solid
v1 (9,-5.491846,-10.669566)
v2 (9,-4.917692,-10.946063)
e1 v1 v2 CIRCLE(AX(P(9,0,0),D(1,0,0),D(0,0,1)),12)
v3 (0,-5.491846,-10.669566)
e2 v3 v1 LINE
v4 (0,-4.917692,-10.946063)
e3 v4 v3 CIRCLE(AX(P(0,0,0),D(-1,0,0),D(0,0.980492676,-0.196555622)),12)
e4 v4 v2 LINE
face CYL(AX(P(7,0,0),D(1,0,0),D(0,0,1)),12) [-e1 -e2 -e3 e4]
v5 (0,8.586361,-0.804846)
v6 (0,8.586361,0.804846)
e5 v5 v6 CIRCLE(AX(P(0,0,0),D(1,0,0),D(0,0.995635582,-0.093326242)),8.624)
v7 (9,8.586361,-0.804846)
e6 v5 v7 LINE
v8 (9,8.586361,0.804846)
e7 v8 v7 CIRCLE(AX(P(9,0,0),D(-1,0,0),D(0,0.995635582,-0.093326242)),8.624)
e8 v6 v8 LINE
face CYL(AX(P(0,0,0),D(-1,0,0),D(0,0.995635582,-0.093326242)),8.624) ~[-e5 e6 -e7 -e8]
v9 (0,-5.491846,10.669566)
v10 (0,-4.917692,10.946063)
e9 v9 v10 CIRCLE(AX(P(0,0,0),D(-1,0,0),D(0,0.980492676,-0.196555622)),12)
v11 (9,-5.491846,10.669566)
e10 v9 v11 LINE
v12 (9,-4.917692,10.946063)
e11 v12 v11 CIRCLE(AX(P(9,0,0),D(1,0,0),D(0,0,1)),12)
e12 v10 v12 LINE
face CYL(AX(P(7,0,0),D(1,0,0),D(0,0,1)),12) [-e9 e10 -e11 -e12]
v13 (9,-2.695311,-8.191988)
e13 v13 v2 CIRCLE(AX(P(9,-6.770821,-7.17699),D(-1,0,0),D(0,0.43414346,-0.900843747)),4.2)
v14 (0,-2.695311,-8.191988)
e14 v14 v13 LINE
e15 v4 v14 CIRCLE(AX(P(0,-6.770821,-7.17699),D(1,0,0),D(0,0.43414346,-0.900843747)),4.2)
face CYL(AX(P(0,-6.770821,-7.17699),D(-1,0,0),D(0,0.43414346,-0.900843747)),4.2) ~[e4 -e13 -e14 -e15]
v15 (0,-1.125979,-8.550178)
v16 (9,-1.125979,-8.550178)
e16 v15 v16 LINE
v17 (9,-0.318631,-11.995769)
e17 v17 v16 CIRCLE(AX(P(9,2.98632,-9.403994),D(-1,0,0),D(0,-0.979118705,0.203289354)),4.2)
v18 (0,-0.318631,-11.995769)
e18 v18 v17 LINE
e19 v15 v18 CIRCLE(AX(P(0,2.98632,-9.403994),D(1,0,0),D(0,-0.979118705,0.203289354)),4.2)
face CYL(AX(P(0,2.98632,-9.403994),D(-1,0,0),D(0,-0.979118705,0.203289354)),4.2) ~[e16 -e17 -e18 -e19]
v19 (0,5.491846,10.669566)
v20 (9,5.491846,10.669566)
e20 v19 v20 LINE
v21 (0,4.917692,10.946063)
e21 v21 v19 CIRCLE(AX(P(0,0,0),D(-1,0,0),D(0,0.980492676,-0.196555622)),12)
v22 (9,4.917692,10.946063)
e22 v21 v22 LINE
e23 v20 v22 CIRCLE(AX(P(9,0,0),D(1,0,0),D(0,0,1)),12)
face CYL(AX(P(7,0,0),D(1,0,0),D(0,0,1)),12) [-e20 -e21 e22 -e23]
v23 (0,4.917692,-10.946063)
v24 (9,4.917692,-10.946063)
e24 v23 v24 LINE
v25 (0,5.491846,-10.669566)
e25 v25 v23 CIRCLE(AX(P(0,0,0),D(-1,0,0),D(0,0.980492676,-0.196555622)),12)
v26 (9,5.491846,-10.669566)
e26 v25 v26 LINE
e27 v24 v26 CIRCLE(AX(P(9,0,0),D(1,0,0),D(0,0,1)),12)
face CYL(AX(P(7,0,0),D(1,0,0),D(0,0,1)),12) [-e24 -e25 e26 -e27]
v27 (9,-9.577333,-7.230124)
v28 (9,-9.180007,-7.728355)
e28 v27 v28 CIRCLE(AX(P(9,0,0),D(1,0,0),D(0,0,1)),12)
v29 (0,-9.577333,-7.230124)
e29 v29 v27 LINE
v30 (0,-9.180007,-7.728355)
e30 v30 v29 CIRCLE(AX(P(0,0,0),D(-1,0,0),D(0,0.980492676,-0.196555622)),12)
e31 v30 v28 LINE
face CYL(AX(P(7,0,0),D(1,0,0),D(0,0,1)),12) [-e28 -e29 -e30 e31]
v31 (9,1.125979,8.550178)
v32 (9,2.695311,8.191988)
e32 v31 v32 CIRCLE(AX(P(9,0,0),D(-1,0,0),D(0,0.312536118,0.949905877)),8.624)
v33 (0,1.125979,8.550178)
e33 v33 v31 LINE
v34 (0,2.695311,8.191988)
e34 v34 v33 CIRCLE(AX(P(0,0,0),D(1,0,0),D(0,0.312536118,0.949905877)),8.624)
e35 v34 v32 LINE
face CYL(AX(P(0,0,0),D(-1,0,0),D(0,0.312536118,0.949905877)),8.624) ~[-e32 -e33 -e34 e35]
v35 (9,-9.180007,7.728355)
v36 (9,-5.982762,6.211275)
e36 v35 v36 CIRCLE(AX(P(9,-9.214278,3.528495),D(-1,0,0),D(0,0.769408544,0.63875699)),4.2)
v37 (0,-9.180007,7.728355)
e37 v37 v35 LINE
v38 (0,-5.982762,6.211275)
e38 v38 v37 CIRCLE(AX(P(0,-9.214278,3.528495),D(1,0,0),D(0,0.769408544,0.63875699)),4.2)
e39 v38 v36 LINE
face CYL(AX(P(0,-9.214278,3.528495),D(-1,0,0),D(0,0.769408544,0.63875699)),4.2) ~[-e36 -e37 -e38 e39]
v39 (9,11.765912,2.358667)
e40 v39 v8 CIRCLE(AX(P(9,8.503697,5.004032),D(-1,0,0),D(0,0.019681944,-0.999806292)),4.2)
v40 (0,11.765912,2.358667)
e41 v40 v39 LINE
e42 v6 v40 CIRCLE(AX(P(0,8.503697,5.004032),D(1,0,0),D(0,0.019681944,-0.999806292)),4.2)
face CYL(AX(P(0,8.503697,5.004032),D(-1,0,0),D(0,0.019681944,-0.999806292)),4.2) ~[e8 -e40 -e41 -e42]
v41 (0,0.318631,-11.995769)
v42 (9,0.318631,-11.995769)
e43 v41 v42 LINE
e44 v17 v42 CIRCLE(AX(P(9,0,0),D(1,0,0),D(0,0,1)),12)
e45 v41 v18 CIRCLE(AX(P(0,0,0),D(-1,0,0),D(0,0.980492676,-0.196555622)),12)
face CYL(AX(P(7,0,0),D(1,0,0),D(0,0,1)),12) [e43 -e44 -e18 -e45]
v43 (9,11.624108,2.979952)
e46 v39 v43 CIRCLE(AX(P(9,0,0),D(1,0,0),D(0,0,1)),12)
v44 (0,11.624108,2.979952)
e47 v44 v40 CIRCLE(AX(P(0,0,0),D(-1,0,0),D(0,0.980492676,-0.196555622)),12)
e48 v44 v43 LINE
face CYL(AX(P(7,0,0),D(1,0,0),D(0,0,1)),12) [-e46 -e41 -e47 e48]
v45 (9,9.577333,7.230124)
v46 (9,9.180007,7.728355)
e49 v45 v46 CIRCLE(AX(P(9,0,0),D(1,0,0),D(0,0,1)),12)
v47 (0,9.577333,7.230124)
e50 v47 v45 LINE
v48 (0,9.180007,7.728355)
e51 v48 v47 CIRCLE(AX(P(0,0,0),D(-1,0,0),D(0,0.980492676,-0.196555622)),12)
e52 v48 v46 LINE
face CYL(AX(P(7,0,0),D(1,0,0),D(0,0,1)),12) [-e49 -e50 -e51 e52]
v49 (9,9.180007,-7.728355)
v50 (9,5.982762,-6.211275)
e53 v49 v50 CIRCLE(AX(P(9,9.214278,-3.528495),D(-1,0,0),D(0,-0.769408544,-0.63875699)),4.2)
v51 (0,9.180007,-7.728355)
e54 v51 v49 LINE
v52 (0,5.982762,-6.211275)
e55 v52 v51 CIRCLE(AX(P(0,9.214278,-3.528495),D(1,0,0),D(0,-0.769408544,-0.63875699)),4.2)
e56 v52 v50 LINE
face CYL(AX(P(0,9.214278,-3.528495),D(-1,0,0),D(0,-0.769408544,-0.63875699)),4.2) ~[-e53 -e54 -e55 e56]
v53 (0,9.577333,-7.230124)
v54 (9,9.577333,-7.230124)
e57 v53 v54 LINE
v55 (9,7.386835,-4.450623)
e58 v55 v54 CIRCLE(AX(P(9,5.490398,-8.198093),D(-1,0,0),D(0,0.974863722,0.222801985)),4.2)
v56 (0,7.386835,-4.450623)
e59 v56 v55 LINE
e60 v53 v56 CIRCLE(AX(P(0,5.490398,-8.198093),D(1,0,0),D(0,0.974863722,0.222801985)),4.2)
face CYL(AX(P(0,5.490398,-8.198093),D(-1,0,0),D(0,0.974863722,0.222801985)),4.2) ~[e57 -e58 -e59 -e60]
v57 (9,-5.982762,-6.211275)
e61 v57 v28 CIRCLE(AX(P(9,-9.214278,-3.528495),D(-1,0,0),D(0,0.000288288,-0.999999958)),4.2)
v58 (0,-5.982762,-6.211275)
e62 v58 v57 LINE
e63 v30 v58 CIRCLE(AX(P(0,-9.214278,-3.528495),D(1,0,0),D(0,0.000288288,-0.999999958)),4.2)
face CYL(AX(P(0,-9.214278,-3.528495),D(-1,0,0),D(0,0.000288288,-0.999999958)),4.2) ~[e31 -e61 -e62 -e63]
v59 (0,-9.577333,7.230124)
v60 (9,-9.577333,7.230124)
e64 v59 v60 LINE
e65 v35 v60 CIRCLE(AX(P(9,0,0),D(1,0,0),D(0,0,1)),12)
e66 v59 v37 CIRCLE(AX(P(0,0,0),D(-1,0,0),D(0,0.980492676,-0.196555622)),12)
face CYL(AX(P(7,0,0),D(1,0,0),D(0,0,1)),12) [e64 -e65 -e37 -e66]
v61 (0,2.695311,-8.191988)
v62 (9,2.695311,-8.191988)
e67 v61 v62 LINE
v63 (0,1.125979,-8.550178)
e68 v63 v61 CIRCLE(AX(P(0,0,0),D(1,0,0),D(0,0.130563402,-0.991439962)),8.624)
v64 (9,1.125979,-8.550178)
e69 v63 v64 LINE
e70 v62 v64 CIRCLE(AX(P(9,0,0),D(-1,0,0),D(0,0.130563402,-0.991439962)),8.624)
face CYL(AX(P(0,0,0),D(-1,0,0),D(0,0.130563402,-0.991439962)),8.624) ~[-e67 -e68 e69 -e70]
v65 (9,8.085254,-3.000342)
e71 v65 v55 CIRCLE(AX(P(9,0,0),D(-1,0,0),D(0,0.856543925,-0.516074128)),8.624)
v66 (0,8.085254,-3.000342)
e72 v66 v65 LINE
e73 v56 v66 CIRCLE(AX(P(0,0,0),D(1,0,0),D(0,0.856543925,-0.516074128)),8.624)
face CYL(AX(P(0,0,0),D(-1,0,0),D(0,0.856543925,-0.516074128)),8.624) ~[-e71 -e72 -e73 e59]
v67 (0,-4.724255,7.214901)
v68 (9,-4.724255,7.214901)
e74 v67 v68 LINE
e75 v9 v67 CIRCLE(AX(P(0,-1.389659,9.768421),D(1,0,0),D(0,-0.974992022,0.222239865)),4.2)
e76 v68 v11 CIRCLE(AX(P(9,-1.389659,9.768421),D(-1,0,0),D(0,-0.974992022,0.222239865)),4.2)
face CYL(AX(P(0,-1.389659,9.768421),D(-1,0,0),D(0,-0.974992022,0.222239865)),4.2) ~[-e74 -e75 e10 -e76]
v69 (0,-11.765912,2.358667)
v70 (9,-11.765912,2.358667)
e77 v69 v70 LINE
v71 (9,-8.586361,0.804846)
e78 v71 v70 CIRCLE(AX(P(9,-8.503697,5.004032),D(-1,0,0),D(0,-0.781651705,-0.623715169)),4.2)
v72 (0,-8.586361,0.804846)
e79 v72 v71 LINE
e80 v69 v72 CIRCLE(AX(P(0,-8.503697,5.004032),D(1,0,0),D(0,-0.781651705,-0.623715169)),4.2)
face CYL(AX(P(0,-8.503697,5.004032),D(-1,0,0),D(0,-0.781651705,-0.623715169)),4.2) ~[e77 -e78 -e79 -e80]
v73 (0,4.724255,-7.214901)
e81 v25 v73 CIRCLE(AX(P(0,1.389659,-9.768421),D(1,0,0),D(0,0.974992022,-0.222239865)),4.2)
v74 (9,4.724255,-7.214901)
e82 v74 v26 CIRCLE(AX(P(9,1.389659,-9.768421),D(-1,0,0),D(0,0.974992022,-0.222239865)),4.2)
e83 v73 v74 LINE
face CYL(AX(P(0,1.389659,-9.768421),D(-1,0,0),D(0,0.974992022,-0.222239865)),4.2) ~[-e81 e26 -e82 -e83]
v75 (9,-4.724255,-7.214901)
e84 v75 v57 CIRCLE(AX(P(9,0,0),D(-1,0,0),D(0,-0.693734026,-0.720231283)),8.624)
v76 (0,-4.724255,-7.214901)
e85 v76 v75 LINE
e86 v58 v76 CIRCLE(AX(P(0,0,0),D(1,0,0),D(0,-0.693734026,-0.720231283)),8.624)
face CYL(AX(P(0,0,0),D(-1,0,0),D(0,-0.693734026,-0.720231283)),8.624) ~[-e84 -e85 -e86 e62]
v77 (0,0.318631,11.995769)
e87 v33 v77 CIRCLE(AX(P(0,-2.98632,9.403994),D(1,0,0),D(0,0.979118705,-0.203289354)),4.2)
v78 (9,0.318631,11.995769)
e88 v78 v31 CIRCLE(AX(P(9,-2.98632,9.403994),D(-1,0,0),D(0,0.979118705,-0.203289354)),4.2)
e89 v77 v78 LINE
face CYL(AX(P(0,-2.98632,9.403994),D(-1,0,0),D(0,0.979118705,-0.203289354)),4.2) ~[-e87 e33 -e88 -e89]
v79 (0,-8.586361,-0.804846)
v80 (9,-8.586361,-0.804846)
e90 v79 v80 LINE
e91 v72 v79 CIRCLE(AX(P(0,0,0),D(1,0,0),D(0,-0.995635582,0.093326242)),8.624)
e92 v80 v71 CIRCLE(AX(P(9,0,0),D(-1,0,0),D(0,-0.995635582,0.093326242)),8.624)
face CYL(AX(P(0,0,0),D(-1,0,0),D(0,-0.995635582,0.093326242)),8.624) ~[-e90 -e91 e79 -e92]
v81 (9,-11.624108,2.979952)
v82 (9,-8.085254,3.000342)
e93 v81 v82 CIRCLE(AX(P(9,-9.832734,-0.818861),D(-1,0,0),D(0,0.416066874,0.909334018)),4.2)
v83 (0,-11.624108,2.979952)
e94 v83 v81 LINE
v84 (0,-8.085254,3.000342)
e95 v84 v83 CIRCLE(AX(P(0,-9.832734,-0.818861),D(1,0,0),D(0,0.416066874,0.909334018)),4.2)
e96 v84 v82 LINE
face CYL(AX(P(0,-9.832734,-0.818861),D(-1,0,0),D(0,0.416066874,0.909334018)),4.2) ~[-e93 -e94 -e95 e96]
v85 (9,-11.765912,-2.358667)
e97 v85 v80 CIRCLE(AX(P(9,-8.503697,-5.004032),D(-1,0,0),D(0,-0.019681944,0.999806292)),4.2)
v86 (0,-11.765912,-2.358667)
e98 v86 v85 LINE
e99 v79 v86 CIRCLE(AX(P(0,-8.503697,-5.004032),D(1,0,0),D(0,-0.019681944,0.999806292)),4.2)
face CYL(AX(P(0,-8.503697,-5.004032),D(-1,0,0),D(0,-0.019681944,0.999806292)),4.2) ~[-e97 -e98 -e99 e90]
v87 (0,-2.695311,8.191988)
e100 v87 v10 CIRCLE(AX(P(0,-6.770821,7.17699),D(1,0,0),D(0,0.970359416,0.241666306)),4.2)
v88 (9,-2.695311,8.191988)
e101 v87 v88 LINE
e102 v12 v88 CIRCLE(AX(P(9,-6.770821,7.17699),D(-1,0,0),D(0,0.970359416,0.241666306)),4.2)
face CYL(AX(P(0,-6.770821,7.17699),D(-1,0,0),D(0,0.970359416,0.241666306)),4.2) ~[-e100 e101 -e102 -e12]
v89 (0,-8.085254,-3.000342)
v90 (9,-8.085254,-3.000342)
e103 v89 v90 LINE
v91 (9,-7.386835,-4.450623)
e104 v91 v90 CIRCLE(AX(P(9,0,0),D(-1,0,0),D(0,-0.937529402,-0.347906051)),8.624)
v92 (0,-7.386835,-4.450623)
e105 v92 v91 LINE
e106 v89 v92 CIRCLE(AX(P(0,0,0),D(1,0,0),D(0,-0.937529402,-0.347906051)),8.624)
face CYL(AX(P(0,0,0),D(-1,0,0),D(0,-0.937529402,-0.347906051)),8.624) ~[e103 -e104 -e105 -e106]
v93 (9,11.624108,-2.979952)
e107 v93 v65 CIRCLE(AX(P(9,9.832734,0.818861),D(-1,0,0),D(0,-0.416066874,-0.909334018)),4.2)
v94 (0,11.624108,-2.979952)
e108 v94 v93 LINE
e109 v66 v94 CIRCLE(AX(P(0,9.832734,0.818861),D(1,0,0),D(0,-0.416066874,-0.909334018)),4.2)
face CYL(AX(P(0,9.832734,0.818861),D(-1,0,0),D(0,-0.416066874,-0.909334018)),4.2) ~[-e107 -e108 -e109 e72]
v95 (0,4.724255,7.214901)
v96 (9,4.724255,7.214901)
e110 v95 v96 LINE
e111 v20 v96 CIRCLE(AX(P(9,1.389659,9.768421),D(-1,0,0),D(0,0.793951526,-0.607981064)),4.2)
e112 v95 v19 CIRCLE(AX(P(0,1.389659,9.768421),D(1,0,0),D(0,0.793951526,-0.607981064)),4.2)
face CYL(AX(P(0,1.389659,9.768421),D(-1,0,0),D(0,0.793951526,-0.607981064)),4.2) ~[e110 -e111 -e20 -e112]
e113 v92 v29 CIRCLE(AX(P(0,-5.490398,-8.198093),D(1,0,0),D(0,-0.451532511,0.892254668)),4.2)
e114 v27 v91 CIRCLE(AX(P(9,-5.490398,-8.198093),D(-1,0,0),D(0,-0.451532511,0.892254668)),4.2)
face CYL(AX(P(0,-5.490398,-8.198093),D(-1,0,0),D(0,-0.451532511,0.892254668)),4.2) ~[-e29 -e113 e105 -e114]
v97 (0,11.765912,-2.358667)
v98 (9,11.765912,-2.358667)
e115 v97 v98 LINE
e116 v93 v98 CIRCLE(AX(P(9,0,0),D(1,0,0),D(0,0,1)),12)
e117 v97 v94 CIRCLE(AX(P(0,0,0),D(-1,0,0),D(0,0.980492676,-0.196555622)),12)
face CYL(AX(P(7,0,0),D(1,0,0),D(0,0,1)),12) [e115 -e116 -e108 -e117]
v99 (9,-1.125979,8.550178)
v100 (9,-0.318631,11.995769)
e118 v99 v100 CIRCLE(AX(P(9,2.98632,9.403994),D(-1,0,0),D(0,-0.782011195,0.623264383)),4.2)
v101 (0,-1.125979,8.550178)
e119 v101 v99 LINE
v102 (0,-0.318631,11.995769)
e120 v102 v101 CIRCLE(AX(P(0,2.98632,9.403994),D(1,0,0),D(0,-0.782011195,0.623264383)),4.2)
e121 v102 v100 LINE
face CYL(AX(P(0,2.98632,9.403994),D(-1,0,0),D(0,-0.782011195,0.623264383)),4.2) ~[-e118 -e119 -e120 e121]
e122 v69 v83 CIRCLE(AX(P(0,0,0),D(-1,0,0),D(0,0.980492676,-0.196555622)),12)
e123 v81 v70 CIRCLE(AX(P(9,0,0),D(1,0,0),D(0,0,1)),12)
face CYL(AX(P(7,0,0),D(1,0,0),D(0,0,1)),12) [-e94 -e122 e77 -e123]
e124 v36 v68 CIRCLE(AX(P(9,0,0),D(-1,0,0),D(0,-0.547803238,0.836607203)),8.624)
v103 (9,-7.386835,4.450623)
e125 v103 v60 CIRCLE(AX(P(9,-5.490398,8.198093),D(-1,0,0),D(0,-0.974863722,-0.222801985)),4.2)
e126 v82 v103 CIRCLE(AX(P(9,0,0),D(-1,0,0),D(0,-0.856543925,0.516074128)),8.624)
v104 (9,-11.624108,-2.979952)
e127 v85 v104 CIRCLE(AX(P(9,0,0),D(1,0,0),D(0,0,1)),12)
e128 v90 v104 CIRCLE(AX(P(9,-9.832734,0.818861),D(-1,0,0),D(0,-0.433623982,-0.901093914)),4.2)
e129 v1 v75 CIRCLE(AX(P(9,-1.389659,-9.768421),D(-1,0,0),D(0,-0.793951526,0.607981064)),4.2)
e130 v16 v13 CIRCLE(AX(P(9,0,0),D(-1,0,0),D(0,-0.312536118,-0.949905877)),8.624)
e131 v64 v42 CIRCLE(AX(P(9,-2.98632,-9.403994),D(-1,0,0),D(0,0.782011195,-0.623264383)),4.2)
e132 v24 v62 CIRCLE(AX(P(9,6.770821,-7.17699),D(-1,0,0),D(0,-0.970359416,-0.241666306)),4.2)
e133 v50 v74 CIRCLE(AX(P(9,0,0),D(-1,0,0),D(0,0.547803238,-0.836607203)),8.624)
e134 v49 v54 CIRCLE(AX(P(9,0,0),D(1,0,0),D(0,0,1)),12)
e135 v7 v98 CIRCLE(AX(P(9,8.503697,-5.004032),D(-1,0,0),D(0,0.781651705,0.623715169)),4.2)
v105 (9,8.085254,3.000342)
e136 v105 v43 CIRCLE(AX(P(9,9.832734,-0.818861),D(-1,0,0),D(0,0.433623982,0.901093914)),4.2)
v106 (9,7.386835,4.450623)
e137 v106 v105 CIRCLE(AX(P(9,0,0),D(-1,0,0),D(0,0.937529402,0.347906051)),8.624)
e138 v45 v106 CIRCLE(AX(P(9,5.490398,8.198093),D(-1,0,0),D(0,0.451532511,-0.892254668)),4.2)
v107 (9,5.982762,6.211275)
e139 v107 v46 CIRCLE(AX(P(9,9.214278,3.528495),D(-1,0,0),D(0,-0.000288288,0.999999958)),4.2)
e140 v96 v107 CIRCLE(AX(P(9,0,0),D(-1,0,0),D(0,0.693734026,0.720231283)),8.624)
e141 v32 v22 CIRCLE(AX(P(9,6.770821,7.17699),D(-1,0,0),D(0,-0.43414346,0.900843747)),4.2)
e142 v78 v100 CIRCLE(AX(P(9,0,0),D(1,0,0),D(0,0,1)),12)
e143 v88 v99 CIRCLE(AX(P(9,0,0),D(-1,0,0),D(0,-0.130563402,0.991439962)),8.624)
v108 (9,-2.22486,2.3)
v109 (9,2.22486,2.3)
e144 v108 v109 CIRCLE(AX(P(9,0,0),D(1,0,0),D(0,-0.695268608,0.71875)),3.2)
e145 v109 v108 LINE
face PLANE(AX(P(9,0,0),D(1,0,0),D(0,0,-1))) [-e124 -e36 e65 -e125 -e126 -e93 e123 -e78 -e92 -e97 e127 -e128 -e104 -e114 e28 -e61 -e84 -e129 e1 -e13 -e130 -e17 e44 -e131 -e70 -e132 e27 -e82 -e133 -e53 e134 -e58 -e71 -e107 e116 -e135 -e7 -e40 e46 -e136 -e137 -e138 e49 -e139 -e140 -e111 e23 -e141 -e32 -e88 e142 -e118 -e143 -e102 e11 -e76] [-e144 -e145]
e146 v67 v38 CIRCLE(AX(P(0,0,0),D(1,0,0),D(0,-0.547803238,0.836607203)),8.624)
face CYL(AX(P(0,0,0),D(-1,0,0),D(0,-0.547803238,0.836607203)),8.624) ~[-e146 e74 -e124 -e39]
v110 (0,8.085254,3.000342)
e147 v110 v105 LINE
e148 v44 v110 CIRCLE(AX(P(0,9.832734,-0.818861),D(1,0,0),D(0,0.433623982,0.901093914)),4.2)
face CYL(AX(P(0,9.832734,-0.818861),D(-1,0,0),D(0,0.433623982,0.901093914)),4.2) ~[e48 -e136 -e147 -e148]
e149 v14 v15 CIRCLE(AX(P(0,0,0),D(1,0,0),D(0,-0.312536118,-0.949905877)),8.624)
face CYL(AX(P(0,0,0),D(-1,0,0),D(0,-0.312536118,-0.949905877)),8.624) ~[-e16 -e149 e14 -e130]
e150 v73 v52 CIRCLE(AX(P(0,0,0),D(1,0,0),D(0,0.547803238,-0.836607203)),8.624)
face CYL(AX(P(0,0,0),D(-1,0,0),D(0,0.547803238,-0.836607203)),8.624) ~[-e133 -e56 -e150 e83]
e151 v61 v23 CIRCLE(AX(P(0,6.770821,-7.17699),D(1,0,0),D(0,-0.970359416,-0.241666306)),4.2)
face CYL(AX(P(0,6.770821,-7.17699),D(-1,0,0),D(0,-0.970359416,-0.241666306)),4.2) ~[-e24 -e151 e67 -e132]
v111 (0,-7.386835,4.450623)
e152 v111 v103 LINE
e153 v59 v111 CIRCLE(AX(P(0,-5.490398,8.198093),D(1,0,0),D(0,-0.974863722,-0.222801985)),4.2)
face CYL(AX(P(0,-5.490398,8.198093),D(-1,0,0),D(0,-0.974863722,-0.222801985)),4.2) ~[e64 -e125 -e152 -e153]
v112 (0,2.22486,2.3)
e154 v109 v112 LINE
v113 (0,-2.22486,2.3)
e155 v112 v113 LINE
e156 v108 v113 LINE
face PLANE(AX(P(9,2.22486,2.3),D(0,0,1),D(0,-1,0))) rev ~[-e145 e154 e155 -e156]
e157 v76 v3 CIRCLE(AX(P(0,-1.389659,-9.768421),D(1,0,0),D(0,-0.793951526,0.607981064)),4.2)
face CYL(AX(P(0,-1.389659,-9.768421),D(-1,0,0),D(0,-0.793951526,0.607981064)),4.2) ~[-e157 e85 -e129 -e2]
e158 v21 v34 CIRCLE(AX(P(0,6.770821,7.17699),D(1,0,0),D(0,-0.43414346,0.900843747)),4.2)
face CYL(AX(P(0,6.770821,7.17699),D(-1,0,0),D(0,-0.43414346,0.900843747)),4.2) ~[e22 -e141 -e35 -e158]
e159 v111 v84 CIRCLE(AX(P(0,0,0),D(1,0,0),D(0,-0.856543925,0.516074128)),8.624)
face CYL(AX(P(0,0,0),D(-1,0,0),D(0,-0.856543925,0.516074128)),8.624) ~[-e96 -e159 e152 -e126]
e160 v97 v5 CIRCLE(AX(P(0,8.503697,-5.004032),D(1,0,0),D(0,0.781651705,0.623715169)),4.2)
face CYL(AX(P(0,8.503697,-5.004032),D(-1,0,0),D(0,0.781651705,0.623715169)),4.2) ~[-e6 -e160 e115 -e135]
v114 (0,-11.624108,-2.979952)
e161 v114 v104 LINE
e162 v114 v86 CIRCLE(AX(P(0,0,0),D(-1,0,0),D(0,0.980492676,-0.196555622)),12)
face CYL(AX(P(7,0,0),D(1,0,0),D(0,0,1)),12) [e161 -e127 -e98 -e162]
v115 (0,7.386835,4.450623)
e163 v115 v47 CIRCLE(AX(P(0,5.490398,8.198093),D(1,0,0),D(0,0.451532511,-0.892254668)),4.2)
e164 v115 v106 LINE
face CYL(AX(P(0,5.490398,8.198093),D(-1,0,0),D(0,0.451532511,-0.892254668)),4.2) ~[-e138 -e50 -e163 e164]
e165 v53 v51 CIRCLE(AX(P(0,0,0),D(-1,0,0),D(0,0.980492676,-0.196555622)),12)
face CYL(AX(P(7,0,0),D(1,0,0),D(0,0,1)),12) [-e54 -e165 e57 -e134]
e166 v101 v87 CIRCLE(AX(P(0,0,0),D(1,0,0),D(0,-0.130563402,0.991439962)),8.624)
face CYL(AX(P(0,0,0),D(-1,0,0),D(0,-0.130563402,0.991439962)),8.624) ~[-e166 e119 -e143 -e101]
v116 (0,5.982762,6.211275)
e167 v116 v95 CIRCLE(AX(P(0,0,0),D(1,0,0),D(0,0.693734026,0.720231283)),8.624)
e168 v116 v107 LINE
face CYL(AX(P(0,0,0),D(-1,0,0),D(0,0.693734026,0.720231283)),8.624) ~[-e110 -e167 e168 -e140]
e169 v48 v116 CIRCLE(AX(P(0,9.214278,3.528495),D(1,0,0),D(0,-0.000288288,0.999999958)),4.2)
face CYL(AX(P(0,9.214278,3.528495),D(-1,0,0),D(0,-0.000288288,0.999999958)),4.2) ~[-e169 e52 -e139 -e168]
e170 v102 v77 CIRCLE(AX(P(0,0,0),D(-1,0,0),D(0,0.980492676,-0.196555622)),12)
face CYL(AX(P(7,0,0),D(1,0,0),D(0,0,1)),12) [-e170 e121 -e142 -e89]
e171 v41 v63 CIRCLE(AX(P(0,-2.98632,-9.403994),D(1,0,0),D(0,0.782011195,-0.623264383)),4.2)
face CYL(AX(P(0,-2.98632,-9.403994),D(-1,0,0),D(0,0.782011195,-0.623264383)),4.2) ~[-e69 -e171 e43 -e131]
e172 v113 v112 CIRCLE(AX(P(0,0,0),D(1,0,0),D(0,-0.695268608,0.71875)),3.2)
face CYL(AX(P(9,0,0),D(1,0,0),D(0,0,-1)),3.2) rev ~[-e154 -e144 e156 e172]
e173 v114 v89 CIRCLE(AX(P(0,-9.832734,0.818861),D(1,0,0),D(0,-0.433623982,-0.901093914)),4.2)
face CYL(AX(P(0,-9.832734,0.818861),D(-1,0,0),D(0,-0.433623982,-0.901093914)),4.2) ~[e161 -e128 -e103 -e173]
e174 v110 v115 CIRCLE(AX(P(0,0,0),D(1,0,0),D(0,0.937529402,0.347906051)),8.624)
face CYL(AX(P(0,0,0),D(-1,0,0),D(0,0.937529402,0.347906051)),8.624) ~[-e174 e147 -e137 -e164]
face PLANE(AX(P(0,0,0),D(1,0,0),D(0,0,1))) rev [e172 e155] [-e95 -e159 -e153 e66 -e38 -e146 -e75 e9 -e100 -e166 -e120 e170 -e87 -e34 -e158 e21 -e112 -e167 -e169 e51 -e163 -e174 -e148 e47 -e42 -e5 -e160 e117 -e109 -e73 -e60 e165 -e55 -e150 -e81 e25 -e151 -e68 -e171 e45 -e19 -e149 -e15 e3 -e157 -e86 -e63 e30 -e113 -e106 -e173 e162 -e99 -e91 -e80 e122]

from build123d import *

# Parameters (mm, degrees)
BASPROSKE_W         = 14
BASPROSKE_H         = 12
TOOTHCUT_DEPTH      = 23
TEETHCUTS_COUNT     = 14
TEETHCUTS_ANGLE     = 334.285714286
BORSKE_R            = 3
BORE_DEPTH          = 50.0000508
SKETCH2_R           = 16.086266861
CUT_EXTRUDE1_DEPTH  = 5
SKETCH3_R           = 3.2
CUT_EXTRUDE2_DEPTH  = 20.064015522
BOSS_EXTRUDE1_DEPTH = 9


with BuildPart() as part:
    # BasProSke → Base-Revolve (revolve)
    with BuildSketch(Plane(origin=(0, 0, 0), x_dir=(1, 0, 0), z_dir=(0, 1, 0)), mode=Mode.PRIVATE) as base_revolve_sk:
        with Locations((7, 6)):
            Rectangle(BASPROSKE_W, BASPROSKE_H)
    revolve(base_revolve_sk.sketch.rotate(Axis((-10, 0, 0), (1, 0, 0)), 180), axis=Axis((-10, 0, 0), (1, 0, 0)))

    # TooCutSke → ToothCut (cut, through all)
    with BuildSketch(Plane(origin=(0, 0, 0), x_dir=(0, 0, -1), z_dir=(1, 0, 0))):
        with BuildLine():
            ThreePointArc((0.804845511, 8.586361261), (0, 8.624), (-0.804845511, 8.586361261))
            ThreePointArc((-0.804845511, 8.586361261), (-1.237812142, 10.362618414), (-2.384428228, 11.78663426))
            ThreePointArc((-2.384428228, 11.78663426), (0, 12.0254), (2.384428228, 11.78663426))
            ThreePointArc((2.384428228, 11.78663426), (1.237812142, 10.362618414), (0.804845511, 8.586361261))
        make_face()
    toothcut = extrude(amount=TOOTHCUT_DEPTH, mode=Mode.SUBTRACT)

    # TeethCuts: ToothCut ×14 about axis
    teethcuts_axis = Axis((-10, 0, 0), (1, 0, 0))
    for i in range(1, TEETHCUTS_COUNT):
        add(toothcut.rotate(teethcuts_axis, i * TEETHCUTS_ANGLE / (TEETHCUTS_COUNT - 1)), mode=Mode.SUBTRACT)

    # BorSke → Bore (cut, symmetric)
    with BuildSketch(Plane(origin=(0, 0, 0), x_dir=(0, 0, -1), z_dir=(1, 0, 0))):
        with Locations(Location((0, 0, 0), (0, 0, 180))):
            Circle(BORSKE_R)
    extrude(amount=BORE_DEPTH, both=True, mode=Mode.SUBTRACT)

    # Sketch2 → Cut-Extrude1 (cut)
    with BuildSketch(Plane(origin=(14, 0, 0), x_dir=(0, 0, -1), z_dir=(1, 0, 0))):
        Circle(SKETCH2_R)
    extrude(amount=-CUT_EXTRUDE1_DEPTH, mode=Mode.SUBTRACT)

    # Sketch3 → Cut-Extrude2 (cut, through all)
    with BuildSketch(Plane(origin=(9, 0, 0), x_dir=(0, 0, -1), z_dir=(1, 0, 0))):
        Circle(SKETCH3_R)
    extrude(amount=-CUT_EXTRUDE2_DEPTH, mode=Mode.SUBTRACT)

    # Sketch4 → Boss-Extrude1 (add)
    with BuildSketch(Plane(origin=(9, 0, 0), x_dir=(0, 0, -1), z_dir=(1, 0, 0))):
        with BuildLine():
            Line((-2.3, 2.224859546), (-2.3, -2.224859546))
            ThreePointArc((-2.3, -2.224859546), (-3.2, 0), (-2.3, 2.224859546))
        make_face()
    extrude(amount=-BOSS_EXTRUDE1_DEPTH)


solid = part.part
